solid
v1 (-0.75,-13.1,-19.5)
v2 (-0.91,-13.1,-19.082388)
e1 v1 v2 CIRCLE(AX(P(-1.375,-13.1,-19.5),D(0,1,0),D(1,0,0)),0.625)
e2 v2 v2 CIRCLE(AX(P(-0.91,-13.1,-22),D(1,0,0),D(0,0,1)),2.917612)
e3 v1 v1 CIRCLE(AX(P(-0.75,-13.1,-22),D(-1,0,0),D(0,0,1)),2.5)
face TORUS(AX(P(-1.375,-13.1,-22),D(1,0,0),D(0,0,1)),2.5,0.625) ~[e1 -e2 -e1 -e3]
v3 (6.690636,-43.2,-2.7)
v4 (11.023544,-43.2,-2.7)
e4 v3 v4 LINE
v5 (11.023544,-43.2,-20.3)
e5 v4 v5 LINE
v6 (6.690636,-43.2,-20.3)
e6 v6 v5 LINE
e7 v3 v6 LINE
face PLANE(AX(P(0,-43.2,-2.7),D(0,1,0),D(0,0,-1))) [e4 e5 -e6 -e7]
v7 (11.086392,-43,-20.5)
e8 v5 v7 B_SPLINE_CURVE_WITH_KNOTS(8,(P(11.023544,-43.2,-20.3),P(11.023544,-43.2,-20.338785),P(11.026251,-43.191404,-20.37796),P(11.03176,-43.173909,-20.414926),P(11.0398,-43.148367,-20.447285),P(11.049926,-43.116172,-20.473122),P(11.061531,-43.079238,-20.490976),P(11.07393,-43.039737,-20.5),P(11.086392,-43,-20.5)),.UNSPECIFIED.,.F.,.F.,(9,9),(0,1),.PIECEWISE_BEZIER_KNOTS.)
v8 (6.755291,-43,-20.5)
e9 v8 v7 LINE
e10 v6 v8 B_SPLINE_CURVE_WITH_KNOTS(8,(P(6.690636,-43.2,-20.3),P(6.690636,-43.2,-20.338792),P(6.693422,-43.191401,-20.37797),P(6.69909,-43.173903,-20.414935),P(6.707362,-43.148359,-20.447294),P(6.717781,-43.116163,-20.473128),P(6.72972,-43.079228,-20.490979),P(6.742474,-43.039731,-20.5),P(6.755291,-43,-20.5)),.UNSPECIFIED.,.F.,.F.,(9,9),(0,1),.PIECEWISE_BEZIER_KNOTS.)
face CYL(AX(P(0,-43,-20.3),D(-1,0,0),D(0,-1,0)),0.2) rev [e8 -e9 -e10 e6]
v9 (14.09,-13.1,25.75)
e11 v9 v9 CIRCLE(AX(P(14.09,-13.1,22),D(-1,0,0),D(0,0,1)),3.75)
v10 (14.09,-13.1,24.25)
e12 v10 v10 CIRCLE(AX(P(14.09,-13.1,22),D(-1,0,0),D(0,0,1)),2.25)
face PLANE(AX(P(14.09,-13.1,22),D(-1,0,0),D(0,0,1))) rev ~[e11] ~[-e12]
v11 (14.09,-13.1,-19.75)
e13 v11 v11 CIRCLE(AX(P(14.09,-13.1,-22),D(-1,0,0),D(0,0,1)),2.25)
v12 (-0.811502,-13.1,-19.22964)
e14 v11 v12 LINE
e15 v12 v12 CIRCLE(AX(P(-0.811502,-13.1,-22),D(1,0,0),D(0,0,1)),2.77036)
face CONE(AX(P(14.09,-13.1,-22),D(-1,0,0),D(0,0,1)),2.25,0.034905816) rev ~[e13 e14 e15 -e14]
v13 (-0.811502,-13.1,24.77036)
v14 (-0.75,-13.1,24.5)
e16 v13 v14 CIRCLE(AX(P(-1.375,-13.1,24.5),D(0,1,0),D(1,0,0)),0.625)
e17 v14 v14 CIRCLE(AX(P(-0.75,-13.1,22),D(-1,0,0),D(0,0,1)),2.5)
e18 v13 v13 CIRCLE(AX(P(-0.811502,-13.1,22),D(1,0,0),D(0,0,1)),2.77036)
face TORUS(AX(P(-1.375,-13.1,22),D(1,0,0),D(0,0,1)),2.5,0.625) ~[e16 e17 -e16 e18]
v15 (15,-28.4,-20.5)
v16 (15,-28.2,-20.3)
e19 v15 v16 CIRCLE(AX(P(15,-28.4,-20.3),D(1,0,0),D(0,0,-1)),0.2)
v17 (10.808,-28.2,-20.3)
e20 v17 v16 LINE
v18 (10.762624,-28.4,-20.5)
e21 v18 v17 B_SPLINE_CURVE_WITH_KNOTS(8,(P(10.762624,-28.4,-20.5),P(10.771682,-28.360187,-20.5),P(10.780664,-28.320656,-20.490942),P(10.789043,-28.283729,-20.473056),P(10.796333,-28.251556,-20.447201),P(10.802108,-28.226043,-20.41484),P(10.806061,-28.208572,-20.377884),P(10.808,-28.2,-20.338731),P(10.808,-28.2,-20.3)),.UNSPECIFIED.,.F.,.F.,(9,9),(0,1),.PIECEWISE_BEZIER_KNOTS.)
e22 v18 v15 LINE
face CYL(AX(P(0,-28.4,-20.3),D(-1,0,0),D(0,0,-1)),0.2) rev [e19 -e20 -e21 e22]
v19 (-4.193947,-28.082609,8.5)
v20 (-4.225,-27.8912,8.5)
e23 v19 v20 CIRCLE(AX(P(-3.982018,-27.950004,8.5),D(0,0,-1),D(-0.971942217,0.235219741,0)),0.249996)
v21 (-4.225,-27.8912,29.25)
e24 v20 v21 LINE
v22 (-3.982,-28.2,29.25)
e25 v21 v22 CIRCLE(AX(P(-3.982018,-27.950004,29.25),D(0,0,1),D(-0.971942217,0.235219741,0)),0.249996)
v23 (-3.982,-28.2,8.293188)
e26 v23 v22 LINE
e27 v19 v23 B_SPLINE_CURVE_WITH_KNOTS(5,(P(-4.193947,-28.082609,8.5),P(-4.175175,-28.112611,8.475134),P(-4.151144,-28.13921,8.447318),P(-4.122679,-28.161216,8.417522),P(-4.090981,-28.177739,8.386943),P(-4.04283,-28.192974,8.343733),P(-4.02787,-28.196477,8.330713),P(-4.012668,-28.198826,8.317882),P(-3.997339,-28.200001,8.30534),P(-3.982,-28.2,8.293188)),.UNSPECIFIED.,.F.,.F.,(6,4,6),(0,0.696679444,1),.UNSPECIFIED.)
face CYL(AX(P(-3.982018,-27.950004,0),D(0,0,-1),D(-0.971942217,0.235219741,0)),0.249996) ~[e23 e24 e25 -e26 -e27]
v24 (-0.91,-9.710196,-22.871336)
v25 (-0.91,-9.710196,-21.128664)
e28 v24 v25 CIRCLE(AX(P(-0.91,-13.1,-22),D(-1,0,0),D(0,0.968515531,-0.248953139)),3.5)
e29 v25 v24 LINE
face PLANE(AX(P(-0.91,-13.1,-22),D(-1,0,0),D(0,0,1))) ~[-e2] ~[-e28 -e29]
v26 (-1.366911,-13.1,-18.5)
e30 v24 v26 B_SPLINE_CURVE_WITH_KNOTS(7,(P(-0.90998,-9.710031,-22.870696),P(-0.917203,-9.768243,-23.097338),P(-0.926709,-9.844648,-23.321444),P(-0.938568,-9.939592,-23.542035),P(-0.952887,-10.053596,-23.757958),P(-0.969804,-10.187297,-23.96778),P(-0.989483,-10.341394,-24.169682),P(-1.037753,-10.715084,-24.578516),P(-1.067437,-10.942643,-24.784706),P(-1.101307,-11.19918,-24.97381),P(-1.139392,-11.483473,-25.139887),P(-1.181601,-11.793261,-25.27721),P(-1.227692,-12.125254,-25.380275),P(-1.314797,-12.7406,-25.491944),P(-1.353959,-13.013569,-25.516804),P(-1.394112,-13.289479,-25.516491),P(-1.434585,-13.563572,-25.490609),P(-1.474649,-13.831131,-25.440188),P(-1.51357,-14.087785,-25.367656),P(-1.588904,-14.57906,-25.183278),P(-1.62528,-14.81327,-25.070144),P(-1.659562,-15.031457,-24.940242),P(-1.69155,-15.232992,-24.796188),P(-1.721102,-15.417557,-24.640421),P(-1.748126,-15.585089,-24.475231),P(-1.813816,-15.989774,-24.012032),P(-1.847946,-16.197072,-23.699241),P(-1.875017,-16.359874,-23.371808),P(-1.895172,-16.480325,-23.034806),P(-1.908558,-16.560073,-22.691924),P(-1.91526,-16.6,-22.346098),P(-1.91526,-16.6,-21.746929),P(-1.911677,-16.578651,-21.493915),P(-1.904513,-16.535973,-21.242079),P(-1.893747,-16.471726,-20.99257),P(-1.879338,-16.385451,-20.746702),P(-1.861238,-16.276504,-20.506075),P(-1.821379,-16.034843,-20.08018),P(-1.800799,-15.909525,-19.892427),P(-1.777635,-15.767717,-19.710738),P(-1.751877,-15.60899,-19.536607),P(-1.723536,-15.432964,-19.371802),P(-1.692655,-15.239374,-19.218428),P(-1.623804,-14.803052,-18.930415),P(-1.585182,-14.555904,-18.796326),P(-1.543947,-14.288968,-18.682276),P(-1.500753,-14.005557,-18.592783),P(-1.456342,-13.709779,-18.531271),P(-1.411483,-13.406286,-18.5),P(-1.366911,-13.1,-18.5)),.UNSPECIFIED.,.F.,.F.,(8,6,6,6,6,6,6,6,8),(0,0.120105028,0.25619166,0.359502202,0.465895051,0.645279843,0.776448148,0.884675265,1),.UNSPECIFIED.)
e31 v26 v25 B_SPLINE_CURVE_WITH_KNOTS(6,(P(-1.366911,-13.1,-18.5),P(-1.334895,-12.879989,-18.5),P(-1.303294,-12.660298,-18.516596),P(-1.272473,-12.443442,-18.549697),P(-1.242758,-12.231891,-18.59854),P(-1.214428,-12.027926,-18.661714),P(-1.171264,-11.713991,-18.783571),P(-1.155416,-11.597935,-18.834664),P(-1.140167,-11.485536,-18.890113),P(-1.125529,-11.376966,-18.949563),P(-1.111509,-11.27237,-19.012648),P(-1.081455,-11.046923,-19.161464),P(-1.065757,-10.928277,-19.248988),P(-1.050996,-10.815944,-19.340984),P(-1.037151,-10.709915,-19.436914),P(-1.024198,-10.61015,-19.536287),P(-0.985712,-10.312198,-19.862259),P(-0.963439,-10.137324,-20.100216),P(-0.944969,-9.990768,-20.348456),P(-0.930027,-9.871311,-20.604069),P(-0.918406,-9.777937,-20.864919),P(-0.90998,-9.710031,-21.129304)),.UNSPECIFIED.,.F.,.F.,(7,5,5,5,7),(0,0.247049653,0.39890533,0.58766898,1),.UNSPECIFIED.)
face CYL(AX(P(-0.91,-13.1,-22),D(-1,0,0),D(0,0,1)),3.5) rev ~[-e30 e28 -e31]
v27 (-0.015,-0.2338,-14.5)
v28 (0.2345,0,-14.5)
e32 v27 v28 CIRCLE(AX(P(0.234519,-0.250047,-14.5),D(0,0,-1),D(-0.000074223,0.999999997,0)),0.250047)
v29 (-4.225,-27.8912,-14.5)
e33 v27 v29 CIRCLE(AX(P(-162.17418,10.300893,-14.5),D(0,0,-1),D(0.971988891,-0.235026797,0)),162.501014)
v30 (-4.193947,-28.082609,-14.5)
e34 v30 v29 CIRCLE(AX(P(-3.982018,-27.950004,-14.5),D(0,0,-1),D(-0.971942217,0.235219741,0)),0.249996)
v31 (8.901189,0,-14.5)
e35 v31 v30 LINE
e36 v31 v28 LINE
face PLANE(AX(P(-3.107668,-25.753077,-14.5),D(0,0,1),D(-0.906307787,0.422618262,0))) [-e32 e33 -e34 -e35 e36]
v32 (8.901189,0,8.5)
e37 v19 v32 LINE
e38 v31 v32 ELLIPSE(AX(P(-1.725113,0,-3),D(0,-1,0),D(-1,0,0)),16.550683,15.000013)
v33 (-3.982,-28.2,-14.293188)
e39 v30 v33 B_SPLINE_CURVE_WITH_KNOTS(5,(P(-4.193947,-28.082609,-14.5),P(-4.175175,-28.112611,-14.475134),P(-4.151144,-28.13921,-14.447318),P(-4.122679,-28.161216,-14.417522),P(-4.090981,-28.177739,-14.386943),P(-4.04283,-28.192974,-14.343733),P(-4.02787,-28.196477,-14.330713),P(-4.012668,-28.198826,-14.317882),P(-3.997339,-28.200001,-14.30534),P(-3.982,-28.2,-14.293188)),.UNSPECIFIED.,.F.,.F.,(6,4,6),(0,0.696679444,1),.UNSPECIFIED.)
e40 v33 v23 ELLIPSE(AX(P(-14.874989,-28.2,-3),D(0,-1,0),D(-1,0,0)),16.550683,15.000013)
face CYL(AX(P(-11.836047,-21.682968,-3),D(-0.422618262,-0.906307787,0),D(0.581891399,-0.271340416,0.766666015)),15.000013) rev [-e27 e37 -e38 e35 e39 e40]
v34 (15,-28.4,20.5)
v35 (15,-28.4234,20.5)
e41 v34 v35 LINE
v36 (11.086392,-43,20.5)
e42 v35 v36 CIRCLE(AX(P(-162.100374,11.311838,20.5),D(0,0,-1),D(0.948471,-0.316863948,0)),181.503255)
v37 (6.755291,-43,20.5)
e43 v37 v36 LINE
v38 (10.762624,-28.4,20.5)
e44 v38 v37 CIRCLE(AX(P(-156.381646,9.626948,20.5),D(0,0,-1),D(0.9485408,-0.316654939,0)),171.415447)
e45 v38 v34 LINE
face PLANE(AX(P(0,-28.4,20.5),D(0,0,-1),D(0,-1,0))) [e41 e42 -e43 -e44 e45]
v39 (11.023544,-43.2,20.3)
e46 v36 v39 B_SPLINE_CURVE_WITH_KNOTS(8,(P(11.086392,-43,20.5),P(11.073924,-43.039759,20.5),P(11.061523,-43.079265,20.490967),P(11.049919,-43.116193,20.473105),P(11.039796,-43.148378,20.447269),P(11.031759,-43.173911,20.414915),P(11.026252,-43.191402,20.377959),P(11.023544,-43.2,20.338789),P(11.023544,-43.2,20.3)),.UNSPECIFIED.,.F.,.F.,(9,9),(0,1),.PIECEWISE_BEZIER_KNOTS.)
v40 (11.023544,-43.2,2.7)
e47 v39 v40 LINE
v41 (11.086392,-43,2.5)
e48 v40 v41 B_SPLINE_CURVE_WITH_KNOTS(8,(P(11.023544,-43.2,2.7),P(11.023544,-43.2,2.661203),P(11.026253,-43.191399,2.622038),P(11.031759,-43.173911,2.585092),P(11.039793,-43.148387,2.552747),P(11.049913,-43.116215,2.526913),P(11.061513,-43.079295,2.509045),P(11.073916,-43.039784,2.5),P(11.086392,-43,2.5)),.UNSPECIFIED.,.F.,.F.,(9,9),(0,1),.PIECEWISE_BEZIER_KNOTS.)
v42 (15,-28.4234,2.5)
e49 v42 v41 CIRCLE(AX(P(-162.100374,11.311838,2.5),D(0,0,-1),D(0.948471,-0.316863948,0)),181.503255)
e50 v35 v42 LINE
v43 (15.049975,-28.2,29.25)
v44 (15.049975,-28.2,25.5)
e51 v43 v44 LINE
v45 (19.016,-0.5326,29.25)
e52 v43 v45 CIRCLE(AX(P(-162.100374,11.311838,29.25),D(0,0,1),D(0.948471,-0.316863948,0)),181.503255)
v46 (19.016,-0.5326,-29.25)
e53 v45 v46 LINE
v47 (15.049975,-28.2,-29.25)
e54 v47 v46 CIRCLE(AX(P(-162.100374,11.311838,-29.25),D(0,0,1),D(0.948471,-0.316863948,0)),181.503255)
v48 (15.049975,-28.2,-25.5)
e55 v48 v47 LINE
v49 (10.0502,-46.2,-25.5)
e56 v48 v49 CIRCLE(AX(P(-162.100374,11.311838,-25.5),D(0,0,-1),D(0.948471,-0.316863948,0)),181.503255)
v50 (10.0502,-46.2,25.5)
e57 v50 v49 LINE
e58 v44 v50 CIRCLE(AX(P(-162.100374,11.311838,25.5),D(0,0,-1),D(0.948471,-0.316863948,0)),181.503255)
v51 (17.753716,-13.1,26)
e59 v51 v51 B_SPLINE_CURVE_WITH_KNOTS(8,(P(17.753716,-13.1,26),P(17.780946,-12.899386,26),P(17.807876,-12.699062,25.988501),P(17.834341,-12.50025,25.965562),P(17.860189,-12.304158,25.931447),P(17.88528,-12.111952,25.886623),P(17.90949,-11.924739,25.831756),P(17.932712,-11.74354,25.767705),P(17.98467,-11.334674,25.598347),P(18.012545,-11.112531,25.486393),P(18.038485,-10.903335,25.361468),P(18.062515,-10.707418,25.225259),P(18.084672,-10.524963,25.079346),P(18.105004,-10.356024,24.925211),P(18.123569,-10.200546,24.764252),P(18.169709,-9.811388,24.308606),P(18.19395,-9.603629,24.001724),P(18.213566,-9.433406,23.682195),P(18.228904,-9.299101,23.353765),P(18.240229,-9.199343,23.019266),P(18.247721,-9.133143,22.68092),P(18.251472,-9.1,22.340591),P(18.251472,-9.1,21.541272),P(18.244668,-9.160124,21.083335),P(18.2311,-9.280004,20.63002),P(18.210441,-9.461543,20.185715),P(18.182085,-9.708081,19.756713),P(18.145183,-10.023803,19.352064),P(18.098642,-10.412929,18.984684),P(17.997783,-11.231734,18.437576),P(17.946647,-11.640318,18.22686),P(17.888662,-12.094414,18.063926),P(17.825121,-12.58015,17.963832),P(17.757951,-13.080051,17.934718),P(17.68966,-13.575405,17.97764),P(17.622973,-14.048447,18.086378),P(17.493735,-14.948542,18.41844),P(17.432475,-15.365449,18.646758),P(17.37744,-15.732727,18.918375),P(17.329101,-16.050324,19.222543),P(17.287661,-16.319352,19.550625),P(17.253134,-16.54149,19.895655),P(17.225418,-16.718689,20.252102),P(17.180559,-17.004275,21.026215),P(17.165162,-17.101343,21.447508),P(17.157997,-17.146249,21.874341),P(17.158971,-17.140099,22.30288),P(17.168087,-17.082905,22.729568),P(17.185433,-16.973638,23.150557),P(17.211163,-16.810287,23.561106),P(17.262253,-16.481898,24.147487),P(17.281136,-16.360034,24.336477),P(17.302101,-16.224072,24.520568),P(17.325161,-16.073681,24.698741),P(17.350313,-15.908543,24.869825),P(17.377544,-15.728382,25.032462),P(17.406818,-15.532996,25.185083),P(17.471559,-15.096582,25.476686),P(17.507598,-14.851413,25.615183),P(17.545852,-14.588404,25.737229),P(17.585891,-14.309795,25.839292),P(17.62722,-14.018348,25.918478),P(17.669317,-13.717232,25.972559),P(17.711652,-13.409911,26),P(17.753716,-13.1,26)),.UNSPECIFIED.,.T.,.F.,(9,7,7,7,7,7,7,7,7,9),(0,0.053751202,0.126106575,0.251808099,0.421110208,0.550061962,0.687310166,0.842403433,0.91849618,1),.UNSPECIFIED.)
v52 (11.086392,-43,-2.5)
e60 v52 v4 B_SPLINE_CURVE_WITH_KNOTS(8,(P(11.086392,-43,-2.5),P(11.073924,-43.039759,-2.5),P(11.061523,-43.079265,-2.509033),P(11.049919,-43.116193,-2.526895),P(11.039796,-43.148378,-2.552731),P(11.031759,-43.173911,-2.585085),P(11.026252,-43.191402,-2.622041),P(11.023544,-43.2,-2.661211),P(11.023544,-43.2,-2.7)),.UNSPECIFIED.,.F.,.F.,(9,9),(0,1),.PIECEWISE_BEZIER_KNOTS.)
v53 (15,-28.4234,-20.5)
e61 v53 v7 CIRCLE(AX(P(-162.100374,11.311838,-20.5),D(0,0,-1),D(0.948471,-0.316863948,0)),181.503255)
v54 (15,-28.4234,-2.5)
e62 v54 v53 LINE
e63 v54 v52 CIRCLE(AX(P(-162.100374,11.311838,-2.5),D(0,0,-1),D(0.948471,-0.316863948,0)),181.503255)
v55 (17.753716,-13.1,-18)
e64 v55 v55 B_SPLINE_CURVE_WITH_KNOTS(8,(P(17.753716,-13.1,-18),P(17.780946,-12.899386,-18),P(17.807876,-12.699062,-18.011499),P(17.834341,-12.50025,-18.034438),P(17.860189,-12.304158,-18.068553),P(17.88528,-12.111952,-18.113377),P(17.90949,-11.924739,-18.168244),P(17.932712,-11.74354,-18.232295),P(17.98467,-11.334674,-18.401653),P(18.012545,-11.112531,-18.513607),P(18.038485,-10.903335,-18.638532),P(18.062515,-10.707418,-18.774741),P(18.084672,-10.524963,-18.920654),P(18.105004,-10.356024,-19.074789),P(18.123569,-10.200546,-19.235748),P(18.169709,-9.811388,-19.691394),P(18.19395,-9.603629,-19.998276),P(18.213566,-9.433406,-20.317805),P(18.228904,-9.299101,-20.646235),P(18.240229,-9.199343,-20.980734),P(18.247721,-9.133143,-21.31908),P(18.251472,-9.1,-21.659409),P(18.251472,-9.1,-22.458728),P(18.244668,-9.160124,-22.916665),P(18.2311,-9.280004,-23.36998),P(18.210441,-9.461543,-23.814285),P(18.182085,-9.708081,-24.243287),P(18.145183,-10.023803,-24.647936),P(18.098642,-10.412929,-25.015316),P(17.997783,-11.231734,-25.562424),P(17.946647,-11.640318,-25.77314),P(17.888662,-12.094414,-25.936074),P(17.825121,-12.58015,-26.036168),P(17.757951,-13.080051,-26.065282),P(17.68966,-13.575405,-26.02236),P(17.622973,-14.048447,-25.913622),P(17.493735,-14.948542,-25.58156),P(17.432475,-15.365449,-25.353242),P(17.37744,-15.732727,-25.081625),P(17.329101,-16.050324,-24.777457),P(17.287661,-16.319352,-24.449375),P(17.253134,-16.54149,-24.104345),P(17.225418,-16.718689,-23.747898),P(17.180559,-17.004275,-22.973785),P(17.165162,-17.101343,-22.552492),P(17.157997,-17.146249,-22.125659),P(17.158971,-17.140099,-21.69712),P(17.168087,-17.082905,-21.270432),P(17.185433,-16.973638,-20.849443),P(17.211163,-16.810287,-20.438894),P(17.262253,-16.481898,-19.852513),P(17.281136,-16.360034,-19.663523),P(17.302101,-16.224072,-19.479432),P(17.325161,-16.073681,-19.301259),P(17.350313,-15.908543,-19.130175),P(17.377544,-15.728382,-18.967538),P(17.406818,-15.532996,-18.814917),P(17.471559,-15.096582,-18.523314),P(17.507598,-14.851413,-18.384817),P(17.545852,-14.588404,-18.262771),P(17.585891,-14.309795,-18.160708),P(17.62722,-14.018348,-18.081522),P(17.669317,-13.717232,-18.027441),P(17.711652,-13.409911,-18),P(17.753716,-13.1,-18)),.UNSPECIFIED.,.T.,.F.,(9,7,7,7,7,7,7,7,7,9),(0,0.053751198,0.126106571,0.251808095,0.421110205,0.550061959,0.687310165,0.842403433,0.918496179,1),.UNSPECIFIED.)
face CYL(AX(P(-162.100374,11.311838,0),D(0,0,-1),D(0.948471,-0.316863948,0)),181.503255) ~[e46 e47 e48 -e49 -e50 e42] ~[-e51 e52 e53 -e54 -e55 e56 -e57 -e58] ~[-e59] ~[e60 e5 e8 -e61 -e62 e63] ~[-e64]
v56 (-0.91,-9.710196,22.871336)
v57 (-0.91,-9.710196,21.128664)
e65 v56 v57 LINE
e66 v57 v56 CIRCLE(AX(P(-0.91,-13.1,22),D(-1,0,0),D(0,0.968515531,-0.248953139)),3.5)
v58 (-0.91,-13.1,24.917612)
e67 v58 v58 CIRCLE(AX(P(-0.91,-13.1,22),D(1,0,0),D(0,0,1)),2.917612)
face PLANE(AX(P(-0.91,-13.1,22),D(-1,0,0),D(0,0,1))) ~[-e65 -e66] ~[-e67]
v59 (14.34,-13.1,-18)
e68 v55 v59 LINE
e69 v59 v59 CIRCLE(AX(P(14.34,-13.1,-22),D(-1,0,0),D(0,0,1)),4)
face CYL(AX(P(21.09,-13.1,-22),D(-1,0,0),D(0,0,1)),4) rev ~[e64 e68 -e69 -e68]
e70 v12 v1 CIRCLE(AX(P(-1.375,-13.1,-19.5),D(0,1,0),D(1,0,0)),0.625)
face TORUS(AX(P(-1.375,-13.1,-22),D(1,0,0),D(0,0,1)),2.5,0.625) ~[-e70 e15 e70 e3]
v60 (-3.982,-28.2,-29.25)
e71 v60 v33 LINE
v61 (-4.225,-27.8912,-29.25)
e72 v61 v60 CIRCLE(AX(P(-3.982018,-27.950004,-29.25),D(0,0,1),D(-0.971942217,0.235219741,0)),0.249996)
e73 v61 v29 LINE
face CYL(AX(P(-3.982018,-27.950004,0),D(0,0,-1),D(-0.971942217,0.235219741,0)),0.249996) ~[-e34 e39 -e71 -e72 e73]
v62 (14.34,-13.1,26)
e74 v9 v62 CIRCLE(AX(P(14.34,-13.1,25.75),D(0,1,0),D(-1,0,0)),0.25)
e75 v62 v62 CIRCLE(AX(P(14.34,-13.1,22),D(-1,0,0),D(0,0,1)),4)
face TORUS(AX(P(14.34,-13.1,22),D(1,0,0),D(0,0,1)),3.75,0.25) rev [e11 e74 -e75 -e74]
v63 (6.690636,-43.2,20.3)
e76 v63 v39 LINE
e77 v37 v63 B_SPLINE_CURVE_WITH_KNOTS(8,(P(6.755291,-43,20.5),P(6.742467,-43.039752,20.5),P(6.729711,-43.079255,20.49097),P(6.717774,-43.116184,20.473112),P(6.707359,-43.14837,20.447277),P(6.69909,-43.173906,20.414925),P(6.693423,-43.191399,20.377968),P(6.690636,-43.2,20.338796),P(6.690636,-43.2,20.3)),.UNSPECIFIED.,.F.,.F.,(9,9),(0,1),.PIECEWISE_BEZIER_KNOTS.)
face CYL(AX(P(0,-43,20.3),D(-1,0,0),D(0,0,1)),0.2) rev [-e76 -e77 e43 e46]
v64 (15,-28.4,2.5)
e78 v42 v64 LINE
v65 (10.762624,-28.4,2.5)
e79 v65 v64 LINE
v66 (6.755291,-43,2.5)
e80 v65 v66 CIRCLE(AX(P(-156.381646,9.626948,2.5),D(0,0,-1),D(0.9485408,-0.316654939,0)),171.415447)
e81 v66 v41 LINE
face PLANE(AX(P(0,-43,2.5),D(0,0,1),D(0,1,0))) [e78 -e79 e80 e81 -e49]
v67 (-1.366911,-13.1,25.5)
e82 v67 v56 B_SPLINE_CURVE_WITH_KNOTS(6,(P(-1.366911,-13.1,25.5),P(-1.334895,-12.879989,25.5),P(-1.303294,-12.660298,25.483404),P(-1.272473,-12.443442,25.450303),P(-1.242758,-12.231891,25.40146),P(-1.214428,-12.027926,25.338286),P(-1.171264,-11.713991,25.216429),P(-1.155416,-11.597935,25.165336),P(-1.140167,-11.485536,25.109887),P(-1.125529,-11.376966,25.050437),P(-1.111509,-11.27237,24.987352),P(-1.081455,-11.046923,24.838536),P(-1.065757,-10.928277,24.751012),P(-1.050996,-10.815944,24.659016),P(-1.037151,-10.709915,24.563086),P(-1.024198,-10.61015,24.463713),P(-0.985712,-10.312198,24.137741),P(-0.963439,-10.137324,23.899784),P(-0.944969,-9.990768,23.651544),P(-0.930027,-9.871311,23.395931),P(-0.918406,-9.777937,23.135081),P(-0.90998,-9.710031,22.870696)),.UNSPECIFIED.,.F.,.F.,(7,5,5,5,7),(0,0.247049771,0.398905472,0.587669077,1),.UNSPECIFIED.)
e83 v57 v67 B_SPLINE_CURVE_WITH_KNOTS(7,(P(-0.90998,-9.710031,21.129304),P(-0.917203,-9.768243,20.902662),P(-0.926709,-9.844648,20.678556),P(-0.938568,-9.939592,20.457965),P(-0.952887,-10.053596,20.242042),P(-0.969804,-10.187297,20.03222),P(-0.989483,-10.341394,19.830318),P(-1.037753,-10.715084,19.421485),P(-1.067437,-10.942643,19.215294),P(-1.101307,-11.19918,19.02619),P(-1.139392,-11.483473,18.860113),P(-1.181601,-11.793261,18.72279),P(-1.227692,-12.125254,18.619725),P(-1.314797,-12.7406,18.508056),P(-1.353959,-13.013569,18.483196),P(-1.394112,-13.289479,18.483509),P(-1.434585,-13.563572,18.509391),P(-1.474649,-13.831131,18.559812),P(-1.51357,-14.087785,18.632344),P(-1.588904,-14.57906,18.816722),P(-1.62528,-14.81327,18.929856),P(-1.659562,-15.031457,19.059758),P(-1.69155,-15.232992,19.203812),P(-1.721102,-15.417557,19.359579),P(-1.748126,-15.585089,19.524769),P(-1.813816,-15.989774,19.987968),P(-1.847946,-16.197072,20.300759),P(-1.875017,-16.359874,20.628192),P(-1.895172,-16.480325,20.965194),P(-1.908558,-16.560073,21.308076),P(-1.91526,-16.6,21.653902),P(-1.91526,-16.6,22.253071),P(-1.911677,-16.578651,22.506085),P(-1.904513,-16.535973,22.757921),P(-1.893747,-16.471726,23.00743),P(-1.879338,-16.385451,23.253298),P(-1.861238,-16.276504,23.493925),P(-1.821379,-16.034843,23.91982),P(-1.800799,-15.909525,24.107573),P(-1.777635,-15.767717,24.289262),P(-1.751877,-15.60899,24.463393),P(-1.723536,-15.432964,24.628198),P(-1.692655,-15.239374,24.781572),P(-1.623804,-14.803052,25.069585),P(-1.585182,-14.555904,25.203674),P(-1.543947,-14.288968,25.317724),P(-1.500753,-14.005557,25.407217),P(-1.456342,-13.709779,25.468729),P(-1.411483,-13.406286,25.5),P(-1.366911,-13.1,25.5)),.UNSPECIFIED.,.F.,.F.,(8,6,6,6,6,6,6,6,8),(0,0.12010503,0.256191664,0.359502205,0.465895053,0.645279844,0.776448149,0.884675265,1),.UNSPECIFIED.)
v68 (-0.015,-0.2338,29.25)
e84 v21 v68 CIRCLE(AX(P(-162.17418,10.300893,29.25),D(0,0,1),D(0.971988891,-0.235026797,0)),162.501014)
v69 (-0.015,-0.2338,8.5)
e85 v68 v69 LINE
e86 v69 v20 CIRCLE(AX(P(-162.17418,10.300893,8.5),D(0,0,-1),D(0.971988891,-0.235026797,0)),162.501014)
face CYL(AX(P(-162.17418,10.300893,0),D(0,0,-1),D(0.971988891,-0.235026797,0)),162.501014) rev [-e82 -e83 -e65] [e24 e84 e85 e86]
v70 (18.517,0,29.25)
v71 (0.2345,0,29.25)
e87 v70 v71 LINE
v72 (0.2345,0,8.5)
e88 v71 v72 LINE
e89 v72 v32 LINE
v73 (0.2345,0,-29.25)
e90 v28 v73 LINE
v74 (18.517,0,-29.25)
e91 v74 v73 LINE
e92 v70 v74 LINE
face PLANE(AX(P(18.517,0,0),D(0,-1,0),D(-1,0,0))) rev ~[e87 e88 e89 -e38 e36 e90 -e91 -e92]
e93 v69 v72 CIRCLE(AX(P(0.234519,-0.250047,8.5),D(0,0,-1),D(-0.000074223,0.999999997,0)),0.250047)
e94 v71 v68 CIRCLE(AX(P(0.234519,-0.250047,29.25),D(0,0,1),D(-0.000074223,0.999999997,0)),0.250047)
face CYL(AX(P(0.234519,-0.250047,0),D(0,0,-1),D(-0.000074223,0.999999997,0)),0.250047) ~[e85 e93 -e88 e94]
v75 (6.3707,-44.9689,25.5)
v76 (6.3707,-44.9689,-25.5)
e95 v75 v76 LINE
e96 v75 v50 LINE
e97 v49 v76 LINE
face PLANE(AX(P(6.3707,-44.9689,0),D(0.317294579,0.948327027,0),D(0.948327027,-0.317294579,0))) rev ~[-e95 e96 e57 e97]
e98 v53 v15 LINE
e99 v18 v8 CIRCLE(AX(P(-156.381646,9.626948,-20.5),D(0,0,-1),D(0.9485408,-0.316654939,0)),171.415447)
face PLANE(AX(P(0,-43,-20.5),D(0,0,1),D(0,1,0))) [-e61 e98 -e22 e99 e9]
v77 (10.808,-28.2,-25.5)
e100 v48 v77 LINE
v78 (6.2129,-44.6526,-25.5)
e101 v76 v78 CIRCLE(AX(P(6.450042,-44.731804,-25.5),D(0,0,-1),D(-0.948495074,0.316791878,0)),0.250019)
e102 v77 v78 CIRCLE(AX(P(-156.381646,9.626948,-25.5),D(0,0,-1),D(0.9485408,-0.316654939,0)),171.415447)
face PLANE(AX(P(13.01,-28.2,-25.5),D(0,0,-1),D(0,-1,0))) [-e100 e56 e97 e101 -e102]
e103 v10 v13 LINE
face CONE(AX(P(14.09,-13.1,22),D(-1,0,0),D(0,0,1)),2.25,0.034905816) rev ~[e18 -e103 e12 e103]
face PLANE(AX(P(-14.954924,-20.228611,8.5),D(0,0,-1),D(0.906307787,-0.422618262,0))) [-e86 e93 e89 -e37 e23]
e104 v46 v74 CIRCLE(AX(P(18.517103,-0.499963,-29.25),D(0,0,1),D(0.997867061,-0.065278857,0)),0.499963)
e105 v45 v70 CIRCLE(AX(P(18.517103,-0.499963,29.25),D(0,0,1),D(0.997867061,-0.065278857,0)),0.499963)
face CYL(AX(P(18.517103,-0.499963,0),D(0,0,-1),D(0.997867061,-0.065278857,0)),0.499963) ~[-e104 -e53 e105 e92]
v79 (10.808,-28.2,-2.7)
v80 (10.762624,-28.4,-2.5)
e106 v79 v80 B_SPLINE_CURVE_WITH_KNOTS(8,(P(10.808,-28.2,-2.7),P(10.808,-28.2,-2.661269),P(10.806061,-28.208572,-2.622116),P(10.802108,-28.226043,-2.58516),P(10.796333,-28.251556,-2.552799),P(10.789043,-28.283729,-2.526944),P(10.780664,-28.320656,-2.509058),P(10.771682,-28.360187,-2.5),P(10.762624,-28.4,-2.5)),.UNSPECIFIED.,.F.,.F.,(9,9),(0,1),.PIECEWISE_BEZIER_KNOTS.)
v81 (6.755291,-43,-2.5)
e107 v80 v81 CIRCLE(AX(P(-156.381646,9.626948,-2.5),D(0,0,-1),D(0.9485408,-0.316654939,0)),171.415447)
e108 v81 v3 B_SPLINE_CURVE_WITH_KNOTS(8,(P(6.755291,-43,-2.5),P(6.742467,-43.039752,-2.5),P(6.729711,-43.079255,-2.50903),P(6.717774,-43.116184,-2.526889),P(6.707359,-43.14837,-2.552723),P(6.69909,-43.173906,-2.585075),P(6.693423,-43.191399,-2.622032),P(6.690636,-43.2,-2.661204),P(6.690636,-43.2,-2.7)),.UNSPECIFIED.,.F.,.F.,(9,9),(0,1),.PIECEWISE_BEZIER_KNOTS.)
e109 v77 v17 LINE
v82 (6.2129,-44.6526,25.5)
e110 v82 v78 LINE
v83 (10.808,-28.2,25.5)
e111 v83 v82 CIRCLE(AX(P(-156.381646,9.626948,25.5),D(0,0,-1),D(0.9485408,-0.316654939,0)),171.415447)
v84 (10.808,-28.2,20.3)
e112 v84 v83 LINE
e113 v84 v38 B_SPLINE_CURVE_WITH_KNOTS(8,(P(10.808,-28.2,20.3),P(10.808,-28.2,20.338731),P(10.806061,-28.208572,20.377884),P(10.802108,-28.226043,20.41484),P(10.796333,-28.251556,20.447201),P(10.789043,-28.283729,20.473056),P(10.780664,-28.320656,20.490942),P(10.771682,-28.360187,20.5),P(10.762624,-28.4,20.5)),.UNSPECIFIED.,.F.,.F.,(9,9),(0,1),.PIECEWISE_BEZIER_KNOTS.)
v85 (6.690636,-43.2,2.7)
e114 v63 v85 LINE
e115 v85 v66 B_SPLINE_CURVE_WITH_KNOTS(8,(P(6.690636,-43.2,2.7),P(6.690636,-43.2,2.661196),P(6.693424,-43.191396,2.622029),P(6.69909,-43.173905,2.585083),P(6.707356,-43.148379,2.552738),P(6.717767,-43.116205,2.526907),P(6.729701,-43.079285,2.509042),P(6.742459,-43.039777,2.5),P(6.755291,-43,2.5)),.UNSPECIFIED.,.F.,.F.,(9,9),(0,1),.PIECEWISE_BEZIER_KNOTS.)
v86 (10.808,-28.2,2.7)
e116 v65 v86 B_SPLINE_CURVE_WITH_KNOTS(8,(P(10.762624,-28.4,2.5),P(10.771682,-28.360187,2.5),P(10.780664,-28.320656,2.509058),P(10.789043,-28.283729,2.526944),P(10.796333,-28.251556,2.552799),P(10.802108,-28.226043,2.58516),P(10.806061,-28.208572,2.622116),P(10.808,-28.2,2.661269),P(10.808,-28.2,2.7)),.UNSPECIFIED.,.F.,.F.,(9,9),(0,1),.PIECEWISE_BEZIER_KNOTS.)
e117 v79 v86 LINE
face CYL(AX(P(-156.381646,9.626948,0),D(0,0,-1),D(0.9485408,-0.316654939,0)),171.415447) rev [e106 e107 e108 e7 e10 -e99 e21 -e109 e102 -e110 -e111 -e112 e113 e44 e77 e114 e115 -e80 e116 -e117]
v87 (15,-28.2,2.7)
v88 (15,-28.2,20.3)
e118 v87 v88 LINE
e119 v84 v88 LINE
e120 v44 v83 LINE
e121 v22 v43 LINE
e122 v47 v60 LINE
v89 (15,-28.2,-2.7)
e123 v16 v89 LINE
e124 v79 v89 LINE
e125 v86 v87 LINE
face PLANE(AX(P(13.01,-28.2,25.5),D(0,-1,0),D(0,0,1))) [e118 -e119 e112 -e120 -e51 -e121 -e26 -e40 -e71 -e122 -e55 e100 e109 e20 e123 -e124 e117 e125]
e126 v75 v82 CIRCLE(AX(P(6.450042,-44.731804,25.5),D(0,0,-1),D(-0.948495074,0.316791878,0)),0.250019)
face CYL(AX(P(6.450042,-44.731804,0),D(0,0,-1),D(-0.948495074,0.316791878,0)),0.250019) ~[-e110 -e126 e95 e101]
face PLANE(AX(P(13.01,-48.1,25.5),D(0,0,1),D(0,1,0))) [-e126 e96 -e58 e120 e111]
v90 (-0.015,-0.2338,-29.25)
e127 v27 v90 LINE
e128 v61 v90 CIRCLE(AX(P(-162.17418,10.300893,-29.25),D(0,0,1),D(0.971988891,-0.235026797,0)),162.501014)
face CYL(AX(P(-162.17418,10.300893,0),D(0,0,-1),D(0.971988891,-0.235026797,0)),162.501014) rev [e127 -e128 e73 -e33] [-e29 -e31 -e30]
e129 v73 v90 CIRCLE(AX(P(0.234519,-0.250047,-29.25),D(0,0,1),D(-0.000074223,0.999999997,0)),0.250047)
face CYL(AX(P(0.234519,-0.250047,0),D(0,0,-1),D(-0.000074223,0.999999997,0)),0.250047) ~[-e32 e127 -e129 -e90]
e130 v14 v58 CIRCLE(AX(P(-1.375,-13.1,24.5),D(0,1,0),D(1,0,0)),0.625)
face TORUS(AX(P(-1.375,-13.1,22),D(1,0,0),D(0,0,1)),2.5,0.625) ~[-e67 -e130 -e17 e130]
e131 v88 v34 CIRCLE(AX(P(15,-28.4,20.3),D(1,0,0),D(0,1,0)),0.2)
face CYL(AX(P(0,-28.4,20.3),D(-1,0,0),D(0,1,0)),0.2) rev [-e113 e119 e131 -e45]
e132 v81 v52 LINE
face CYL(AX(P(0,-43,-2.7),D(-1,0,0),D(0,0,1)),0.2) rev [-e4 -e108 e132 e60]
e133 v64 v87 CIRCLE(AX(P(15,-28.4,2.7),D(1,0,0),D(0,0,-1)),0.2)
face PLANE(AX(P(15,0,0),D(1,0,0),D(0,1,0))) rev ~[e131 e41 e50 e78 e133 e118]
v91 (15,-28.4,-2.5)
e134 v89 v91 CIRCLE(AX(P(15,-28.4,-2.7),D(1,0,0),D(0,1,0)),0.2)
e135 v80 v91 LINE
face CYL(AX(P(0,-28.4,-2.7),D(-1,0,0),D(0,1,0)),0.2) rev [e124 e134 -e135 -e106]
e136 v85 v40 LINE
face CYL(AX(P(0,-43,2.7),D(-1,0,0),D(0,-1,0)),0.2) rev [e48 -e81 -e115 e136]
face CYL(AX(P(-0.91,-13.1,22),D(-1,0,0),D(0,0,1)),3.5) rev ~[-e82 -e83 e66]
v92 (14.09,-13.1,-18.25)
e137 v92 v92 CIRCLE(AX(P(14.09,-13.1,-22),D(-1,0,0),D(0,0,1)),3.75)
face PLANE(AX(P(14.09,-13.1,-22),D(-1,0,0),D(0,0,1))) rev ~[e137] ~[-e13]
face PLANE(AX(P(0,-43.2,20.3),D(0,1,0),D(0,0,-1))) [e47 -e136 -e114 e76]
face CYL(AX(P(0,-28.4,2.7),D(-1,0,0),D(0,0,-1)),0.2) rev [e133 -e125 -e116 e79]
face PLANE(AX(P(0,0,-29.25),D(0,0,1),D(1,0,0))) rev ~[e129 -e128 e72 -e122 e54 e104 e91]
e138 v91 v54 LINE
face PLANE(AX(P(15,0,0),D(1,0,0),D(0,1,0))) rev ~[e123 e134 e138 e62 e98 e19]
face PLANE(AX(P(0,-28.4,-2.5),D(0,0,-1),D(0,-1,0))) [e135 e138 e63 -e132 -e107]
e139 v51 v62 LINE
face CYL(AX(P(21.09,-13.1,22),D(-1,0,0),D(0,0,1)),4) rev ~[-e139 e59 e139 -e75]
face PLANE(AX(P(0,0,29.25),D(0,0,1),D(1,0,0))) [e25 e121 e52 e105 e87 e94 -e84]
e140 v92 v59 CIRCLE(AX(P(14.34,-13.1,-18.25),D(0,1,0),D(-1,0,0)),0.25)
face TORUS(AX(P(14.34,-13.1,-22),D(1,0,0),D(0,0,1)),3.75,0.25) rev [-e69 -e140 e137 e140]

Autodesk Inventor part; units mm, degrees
sketch "Sketch_12" plane through (0, 0, 0) normal (0, 0, 1) x (1, 0, 0)
  arc A0 (-4.225, -27.8912) -> (-3.982, -28.2) centre (-3.982, -27.95) ccw
  line L0 (-3.982, -28.2) -> (10.808, -28.2)
  arc A1 (6.2129, -44.6526) -> (10.808, -28.2) centre (-156.3668, 9.6224) ccw
  arc A2 (6.2129, -44.6526) -> (6.3707, -44.9689) centre (6.4501, -44.7318) ccw
  line L1 (6.3707, -44.9689) -> (10.0502, -46.2)
  arc A3 (10.0502, -46.2) -> (19.016, -0.5326) centre (-162.0972, 11.311) ccw
  arc A4 (19.016, -0.5326) -> (18.517, 0) centre (18.517, -0.5) ccw
  line L2 (18.517, 0) -> (0.2345, 0)
  arc A5 (0.2345, 0) -> (-0.015, -0.2338) centre (0.2345, -0.25) ccw
  arc A6 (-4.225, -27.8912) -> (-0.015, -0.2338) centre (-162.1732, 10.3007) ccw
extrude "Extrusion1" add sketch "Sketch_12" along normal mid plane 58.5
sketch "Sketch_2" plane through (0, 0, 0) normal (1, 0, 0) x (0, 1, 0)
  line L0 (-28.4, 20.5) -> (-43, 20.5)
  arc A0 (-43, 20.5) -> (-43.2, 20.3) centre (-43, 20.3) ccw
  line L1 (-43.2, 20.3) -> (-43.2, 2.7)
  arc A1 (-43.2, 2.7) -> (-43, 2.5) centre (-43, 2.7) ccw
  line L2 (-43, 2.5) -> (-28.4, 2.5)
  arc A2 (-28.4, 2.5) -> (-28.2, 2.7) centre (-28.4, 2.7) ccw
  line L3 (-28.2, 2.7) -> (-28.2, 20.3)
  arc A3 (-28.2, 20.3) -> (-28.4, 20.5) centre (-28.4, 20.3) ccw
extrude "Extrusion2" cut sketch "Sketch_2" along normal blind 15
sketch "Sketch_3" plane through (0, 0, 0) normal (1, 0, 0) x (0, 1, 0)
  arc A0 (-43, -2.5) -> (-43.2, -2.7) centre (-43, -2.7) ccw
  line L0 (-43.2, -2.7) -> (-43.2, -20.3)
  arc A1 (-43.2, -20.3) -> (-43, -20.5) centre (-43, -20.3) ccw
  line L1 (-43, -20.5) -> (-28.4, -20.5)
  arc A2 (-28.4, -20.5) -> (-28.2, -20.3) centre (-28.4, -20.3) ccw
  line L2 (-28.2, -20.3) -> (-28.2, -2.7)
  arc A3 (-28.2, -2.7) -> (-28.4, -2.5) centre (-28.4, -2.7) ccw
  line L3 (-28.4, -2.5) -> (-43, -2.5)
extrude "Extrusion3" cut sketch "Sketch_3" along normal blind 15
sketch "Sketch_4" plane through (13.01, 0, 0) normal (1, 0, 0) x (0, 0, -1)
  line L0 (-29.25, -48.1) -> (-25.5, -48.1)
  line L1 (-25.5, -48.1) -> (-25.5, -28.2)
  line L2 (-25.5, -28.2) -> (-29.25, -28.2)
  line L3 (-29.25, -28.2) -> (-29.25, -48.1)
extrude "Extrusion4" cut sketch "Sketch_4" along normal mid plane 40
sketch "Sketch_5" plane through (13.01, 0, 0) normal (1, 0, 0) x (0, 0, -1)
  line L0 (25.5, -48.1) -> (29.25, -48.1)
  line L1 (29.25, -48.1) -> (29.25, -28.2)
  line L2 (29.25, -28.2) -> (25.5, -28.2)
  line L3 (25.5, -28.2) -> (25.5, -48.1)
extrude "Extrusion5" cut sketch "Sketch_5" along normal mid plane 30
sketch "Sketch_6" plane through (0, -13.1, 0) normal (0, 1, 0) x (1, 0, 0)
  line L0 (-3, -22) -> (21.09, -22)
  line L1 (21.09, -22) -> (21.09, -26)
  line L2 (21.09, -26) -> (14.34, -26)
  arc A0 (14.09, -25.75) -> (14.34, -26) centre (14.34, -25.75) ccw
  line L3 (14.09, -25.75) -> (14.09, -24.25)
  line L4 (14.09, -24.25) -> (-0.91, -24.7738)
  line L5 (-0.91, -24.7738) -> (-0.91, -25.5)
  line L6 (-0.91, -25.5) -> (-3, -25.5)
  line L7 (-3, -25.5) -> (-3, -22)
  line L8 (-3, -22) -> (21.09, -22)
revolve "Revolution1" cut sketch "Sketch_6" angle 360 about axis through (-3, -13.1, 22) along (-1, 0, 0)
sketch "Sketch_7" plane through (0, -13.1, 0) normal (0, 1, 0) x (1, 0, 0)
  line L0 (-3, 22) -> (21.09, 22)
  line L1 (21.09, 22) -> (21.09, 18)
  line L2 (21.09, 18) -> (14.34, 18)
  arc A0 (14.09, 18.25) -> (14.34, 18) centre (14.34, 18.25) ccw
  line L3 (14.09, 18.25) -> (14.09, 19.75)
  line L4 (14.09, 19.75) -> (-0.91, 19.2262)
  line L5 (-0.91, 19.2262) -> (-0.91, 18.5)
  line L6 (-0.91, 18.5) -> (-3, 18.5)
  line L7 (-3, 18.5) -> (-3, 22)
  line L8 (-3, 22) -> (21.09, 22)
revolve "Revolution2" cut sketch "Sketch_7" angle 360 about axis through (-3, -13.1, -22) along (-1, 0, 0)
sketch "Sketch_8" plane through (0, -13.1, 0) normal (0, 1, 0) x (1, 0, 0)
  line L0 (-2, -22) -> (-0.75, -22)
  circle A0 centre (-1.375, -24.5) radius 0.625
revolve "Revolution3" add sketch "Sketch_8" angle 360 about axis through (-2, -13.1, 22) along (-1, 0, 0)
sketch "Sketch_13" plane through (0, -13.1, 0) normal (0, 1, 0) x (1, 0, 0)
  line L0 (-2, 22) -> (-0.75, 22)
  circle A0 centre (-1.375, 19.5) radius 0.625
revolve "Revolution4" add sketch "Sketch_13" angle 360 about axis through (-2, -13.1, -22) along (-1, 0, 0)
sketch "Sketch_10" plane through (0, -27.2, 0) normal (0.4226, 0.9063, 0) x (0.9063, -0.4226, 0)
  line L0 (-16.5, -8.5) -> (-3.428, -8.5)
  arc A0 (-3.428, -8.5) -> (-3.428, 14.5) centre (-13.0587, 3) ccw
  line L1 (-3.428, 14.5) -> (-16.5, 14.5)
  line L2 (-16.5, 14.5) -> (-16.5, -8.5)
extrude "Extrusion6" cut sketch "Sketch_10" along normal mid plane 70
ref_plane "ANBAU_XY" through (0, 0, 0) normal (1, 0, 0) x (0, 0, -1)
ref_plane "ANBAU_YZ" through (0, 0, 0) normal (0, 0, -1) x (0, 1, 0)
ref_plane "ANBAU_ZX" through (0, 0, 0) normal (0, 1, 0) x (1, 0, 0)
ref_plane "SCREW_1_XY" through (14.09, -13.1, 22) normal (1, 0, 0) x (0, 0, -1)
ref_plane "SCREW_1_YZ" through (14.09, -13.1, 22) normal (0, 0, -1) x (0, 1, 0)
ref_plane "SCREW_1_ZX" through (14.09, -13.1, 22) normal (0, 1, 0) x (1, 0, 0)
ref_plane "SCREW_2_XY" through (14.09, -13.1, -22) normal (1, 0, 0) x (0, 0, -1)
ref_plane "SCREW_2_YZ" through (14.09, -13.1, -22) normal (0, 0, -1) x (0, 1, 0)
ref_plane "SCREW_2_ZX" through (14.09, -13.1, -22) normal (0, 1, 0) x (1, 0, 0)
properties part number "8099429 CMMT-AS-C7/C12-11A-P3---(clamp)"
